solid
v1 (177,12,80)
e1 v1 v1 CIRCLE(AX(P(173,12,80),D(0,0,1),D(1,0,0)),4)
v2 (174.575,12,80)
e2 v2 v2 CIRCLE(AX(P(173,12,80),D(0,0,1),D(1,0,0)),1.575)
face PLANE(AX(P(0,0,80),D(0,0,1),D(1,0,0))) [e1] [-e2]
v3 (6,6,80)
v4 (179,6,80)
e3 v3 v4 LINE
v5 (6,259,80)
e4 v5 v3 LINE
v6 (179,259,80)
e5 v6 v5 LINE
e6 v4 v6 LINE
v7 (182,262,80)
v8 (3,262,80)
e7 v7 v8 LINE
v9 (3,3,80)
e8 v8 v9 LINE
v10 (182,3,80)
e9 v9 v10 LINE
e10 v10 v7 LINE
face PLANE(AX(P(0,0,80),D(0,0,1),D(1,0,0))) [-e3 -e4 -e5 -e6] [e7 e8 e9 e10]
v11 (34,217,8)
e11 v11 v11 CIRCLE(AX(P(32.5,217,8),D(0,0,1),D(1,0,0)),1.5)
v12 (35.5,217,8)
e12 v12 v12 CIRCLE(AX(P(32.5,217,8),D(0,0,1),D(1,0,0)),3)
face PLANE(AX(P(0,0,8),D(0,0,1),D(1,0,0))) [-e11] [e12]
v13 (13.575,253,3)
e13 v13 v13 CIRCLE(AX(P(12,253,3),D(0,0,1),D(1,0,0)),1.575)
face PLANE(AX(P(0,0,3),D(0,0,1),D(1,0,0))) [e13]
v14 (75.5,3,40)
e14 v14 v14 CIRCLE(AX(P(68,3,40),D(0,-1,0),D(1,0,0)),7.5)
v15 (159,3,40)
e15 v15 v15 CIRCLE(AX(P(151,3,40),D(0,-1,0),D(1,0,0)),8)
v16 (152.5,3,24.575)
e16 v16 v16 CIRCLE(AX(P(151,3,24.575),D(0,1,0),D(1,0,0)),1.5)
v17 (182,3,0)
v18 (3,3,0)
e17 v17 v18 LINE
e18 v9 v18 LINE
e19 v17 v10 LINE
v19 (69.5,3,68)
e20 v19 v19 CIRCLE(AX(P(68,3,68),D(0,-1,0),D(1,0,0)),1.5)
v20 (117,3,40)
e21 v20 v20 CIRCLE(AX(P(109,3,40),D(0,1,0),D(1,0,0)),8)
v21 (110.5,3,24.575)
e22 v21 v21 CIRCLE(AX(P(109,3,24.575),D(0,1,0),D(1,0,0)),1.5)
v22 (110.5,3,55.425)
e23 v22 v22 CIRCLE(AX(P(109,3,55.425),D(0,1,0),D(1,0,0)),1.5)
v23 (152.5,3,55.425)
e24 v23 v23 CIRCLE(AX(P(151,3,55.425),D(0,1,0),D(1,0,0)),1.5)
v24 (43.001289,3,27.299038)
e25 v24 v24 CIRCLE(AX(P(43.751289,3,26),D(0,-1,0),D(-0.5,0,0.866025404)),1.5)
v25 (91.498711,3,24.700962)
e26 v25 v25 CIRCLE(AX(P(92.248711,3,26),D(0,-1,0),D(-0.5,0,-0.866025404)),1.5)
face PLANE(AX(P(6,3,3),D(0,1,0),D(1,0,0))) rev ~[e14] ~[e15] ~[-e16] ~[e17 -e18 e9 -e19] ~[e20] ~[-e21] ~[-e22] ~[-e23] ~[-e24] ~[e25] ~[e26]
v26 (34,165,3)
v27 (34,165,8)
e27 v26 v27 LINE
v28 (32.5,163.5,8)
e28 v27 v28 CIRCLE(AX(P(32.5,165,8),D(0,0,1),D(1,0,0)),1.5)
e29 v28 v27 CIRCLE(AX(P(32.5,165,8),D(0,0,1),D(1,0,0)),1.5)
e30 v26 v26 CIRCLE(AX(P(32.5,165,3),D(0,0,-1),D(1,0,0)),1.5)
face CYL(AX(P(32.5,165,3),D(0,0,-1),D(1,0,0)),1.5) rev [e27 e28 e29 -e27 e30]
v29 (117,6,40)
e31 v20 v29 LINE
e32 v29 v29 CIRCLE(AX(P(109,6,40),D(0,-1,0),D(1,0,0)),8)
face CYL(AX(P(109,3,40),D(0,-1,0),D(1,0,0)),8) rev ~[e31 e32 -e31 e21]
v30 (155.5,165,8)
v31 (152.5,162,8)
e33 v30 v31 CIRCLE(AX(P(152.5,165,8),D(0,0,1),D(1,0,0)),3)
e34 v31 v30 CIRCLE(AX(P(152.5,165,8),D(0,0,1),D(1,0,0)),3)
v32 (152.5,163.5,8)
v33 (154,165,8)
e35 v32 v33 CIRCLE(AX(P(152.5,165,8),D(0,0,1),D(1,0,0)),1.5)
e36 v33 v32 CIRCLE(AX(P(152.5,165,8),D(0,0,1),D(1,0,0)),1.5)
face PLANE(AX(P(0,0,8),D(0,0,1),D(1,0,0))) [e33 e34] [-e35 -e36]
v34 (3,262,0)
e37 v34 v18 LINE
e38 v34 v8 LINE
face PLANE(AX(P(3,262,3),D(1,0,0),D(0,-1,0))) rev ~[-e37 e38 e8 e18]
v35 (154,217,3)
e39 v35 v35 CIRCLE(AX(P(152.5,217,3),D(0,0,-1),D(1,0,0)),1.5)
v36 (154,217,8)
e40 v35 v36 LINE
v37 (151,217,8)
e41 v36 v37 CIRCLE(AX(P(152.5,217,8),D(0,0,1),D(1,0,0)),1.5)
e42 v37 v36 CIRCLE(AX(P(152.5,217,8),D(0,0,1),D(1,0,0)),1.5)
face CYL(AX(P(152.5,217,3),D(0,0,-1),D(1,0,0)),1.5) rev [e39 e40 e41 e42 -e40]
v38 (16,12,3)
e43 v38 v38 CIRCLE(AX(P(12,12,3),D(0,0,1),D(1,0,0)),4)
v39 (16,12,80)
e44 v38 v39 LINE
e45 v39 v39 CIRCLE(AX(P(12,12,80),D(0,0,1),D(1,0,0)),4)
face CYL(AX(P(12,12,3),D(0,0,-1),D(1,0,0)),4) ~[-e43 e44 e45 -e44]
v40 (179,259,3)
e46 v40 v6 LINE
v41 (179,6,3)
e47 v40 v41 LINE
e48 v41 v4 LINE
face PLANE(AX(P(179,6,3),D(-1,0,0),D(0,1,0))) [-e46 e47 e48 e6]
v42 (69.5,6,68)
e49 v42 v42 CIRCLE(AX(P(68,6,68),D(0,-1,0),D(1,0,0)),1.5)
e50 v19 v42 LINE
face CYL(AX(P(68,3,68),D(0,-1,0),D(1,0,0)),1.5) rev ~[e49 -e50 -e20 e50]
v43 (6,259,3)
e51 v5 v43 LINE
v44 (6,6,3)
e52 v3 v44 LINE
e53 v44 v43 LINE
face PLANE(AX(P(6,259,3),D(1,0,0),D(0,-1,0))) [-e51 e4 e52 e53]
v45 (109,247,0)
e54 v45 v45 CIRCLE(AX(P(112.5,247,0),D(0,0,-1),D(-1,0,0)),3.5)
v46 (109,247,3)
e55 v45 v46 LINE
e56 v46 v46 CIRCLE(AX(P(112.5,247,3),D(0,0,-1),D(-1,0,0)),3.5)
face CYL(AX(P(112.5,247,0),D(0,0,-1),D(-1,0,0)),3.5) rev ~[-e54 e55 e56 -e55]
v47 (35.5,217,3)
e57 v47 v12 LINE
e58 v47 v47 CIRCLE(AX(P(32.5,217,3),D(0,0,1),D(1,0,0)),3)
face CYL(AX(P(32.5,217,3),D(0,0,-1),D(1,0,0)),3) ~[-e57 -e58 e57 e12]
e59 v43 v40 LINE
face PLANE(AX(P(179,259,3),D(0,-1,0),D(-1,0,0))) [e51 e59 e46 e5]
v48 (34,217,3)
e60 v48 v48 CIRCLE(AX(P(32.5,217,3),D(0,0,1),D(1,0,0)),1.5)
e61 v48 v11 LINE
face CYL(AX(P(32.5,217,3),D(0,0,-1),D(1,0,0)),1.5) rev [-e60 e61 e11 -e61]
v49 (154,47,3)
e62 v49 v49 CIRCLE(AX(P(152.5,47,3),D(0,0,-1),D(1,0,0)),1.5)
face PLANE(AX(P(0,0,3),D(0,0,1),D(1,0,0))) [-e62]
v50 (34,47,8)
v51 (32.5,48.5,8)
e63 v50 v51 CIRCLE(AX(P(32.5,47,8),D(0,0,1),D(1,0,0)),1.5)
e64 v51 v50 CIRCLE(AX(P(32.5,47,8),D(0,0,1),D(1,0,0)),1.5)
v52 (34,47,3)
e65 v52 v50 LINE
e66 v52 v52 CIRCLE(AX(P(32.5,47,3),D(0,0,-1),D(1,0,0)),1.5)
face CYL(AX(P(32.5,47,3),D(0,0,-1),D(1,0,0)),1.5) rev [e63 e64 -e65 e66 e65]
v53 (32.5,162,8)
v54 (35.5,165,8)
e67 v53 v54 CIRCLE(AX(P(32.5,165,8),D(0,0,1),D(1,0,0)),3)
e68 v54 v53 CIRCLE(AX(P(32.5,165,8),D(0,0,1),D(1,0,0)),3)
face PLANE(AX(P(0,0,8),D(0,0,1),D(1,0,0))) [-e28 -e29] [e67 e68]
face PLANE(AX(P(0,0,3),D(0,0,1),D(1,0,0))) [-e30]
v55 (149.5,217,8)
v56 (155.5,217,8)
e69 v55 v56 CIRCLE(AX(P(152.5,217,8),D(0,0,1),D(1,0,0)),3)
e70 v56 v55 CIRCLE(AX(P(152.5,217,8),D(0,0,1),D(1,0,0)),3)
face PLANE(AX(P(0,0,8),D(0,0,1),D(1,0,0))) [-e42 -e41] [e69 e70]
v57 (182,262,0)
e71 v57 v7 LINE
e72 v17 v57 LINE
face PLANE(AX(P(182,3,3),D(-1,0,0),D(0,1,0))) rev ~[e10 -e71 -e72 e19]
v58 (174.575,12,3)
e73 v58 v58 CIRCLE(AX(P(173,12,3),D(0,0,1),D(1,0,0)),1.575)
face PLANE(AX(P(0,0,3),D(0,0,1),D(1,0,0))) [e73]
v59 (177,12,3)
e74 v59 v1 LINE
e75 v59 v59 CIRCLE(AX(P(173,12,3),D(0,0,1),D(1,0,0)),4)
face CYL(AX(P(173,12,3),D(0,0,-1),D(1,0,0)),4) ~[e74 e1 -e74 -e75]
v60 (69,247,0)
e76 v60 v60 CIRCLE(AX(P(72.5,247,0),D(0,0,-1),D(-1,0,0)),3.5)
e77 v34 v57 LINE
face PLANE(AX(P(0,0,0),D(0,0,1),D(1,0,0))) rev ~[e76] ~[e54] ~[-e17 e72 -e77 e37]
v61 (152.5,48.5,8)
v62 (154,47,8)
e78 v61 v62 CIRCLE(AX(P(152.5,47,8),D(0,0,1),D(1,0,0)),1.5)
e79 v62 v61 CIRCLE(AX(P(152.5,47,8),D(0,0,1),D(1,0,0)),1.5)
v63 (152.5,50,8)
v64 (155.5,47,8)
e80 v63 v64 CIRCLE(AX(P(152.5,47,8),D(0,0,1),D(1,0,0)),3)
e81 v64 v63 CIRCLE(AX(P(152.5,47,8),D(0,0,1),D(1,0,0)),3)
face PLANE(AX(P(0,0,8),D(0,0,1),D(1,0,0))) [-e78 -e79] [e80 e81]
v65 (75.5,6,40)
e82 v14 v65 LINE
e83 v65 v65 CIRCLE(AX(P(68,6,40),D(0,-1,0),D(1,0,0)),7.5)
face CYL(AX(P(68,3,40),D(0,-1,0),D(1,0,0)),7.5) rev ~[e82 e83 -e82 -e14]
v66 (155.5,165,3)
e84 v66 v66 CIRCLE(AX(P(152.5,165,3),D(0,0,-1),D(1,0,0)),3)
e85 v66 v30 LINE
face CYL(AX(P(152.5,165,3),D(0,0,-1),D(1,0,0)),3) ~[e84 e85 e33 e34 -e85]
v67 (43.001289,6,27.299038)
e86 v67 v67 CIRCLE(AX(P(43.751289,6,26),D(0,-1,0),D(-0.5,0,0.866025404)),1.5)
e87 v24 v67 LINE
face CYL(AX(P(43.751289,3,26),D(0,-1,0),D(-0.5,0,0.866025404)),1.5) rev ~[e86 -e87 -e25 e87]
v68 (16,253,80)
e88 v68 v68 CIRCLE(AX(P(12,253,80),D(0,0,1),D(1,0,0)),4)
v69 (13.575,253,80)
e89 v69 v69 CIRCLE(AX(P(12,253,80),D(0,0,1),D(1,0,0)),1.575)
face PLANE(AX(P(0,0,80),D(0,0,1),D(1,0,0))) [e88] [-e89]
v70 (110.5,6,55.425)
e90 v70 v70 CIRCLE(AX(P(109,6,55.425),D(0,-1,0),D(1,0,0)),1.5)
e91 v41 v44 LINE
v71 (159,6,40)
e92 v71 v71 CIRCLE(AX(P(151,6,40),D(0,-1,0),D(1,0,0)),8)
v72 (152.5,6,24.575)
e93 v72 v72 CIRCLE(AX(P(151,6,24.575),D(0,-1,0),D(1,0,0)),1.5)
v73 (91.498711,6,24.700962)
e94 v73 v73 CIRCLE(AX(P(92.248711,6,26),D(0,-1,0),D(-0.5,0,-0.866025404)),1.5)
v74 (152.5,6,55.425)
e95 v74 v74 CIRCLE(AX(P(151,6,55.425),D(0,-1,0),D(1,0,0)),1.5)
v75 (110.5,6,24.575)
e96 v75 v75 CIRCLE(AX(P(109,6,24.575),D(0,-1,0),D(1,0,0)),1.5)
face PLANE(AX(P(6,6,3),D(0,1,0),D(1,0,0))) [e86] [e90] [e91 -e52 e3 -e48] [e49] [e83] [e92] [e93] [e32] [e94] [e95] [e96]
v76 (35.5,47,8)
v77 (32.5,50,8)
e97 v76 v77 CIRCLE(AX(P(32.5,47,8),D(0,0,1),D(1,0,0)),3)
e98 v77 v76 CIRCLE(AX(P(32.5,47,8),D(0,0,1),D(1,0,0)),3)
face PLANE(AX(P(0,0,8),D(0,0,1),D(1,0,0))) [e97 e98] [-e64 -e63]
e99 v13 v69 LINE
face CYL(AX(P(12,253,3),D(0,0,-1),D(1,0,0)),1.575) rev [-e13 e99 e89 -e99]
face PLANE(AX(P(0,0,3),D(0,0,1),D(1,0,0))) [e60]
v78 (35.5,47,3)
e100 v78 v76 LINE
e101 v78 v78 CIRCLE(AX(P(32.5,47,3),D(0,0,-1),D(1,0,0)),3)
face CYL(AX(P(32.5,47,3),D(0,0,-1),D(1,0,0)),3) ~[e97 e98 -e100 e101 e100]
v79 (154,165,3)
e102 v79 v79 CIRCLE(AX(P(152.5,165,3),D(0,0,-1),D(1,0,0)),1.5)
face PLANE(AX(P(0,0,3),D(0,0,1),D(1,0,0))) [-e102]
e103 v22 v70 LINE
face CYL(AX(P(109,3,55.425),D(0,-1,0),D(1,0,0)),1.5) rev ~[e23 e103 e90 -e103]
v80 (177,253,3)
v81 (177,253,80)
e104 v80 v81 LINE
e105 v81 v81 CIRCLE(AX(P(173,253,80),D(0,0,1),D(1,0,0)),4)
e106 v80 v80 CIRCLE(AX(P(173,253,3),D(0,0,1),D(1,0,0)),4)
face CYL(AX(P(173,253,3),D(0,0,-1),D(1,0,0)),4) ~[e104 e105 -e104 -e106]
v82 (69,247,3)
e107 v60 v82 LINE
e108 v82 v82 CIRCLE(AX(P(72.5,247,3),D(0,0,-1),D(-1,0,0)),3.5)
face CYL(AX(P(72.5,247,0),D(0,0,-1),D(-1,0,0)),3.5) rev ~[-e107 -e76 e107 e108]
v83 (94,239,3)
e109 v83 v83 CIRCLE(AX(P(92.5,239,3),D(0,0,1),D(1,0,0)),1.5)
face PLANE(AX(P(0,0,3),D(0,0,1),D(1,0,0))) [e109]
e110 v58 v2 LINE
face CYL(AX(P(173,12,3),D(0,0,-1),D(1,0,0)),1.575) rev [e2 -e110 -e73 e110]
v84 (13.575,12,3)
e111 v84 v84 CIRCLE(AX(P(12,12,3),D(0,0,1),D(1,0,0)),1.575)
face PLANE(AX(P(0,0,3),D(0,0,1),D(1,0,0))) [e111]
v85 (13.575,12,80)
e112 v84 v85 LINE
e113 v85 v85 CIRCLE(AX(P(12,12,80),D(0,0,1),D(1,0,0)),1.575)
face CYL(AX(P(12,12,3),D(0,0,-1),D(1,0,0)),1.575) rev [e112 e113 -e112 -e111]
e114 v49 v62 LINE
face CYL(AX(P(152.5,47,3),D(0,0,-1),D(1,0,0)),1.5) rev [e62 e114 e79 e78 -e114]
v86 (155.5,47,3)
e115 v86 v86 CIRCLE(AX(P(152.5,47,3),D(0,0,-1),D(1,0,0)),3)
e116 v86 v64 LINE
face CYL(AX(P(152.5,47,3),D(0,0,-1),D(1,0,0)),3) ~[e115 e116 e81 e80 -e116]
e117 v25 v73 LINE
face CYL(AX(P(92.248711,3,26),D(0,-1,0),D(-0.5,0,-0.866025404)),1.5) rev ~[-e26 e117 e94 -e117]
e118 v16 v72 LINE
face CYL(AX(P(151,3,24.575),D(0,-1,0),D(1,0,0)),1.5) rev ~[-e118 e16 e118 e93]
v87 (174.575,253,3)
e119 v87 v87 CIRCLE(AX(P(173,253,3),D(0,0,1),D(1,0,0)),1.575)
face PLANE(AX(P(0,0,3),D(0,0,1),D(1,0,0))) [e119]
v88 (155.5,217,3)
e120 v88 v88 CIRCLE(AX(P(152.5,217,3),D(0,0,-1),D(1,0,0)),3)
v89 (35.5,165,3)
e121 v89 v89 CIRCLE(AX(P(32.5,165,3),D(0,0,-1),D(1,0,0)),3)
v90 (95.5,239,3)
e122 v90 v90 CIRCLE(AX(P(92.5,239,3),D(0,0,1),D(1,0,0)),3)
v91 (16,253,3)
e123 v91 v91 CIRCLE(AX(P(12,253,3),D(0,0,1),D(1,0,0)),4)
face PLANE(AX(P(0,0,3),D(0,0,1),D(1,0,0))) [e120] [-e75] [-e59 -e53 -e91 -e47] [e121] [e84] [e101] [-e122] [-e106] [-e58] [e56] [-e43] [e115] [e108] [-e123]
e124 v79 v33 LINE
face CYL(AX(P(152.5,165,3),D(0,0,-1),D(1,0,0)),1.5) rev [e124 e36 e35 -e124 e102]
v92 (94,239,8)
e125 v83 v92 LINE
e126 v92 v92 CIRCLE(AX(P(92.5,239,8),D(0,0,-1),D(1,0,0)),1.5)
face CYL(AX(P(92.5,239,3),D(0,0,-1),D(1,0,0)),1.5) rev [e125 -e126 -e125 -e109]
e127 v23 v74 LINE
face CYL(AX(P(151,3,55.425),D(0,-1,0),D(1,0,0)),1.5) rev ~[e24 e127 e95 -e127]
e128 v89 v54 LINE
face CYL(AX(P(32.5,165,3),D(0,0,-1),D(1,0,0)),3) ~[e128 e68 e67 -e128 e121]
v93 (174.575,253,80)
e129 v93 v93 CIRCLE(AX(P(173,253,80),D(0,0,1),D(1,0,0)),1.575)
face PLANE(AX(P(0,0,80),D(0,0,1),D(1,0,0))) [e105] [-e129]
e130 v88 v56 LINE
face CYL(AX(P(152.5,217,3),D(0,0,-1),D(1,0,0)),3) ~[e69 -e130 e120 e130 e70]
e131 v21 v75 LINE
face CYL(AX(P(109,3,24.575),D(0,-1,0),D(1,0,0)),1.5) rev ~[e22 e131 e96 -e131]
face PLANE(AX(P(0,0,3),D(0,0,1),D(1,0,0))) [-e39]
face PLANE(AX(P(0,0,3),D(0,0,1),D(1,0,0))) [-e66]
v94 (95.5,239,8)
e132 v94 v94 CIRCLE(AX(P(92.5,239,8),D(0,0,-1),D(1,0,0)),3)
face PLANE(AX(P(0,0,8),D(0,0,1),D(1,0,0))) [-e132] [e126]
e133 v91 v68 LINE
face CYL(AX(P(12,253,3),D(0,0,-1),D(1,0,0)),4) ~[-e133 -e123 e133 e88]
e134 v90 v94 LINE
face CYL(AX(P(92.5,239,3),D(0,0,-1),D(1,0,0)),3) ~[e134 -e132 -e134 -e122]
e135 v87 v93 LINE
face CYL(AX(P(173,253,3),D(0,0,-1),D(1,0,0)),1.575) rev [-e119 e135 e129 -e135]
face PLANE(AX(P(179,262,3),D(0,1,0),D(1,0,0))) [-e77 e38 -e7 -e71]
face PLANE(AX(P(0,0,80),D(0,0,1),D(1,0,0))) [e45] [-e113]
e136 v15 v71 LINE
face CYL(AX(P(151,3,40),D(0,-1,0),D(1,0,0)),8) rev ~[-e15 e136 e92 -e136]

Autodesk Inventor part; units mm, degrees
ref_plane "YZ Plane" through (0, 0, 0) normal (1, 0, 0) x (0, 1, 0)
ref_plane "XZ Plane" through (0, 0, 0) normal (0, 1, 0) x (-1, 0, 0)
ref_plane "XY Plane" through (0, 0, 0) normal (0, 0, 1) x (1, 0, 0)
sketch "Esboço1" plane through (0, 0, 0) normal (0, 0, 1) x (1, 0, 0)
  line L0 (0, 0) -> (185, 0)
  line L1 (185, 0) -> (185, 265)
  line L2 (185, 265) -> (0, 265)
  line L3 (0, 265) -> (0, 0)
  line L4 (0, 0) -> (12, 0)
  line L5 (12, 0) -> (12, 12)
  line L6 (185, 0) -> (173, 0)
  line L7 (173, 0) -> (173, 12)
  line L8 (0, 265) -> (0, 253)
  line L9 (0, 253) -> (12, 253)
  line L10 (185, 265) -> (185, 253)
  line L11 (185, 253) -> (173, 253)
  circle A0 centre (173, 253) radius 4
  circle A1 centre (12, 253) radius 4
  circle A2 centre (12, 12) radius 4
  circle A3 centre (173, 12) radius 4
  line L12 (180, 5) -> (180, 260)
  line L13 (180, 260) -> (5, 260)
  line L14 (5, 260) -> (180, 260)
  line L15 (180, 260) -> (180, 5)
  line L16 (180, 5) -> (5, 5)
  line L17 (5, 5) -> (5, 260)
  dimension "d2" = 185
  dimension "d3" = 265
  dimension "d4" = 12
  dimension "d5" = 12
  dimension "d6" = 12
  dimension "d7" = 12
  dimension "d8" = 12
  dimension "d9" = 12
  dimension "d10" = 12
  dimension "d11" = 12
  dimension "d12" = 8
  dimension "d13" = 8
  dimension "d14" = 8
  dimension "d15" = 8
  dimension "d18" = 255
  dimension "d19" = 175
sketch "Esboço2" plane through (0, 0, 0) normal (0, 0, 1) x (1, 0, 0)
  line L0 (185, 265) -> (185, 253)
  line L1 (180, 5) -> (180, 260)
  line L2 (180, 260) -> (5, 260)
  line L3 (5, 260) -> (180, 260)
  line L4 (180, 260) -> (180, 5)
  line L5 (180, 5) -> (5, 5)
  line L6 (5, 5) -> (5, 260)
  point P0 (0, 0)
  dimension "d34" = 255
  dimension "d35" = 175
extrude "Extrusão1" add sketch "Esboço2" along normal blind 3
sketch "Esboço3" plane through (0, 0, 3) normal (0, 0, 1) x (1, 0, 0)
  circle A0 centre (173, 253) radius 4
  circle A1 centre (12, 253) radius 4
  circle A2 centre (12, 12) radius 4
  circle A3 centre (173, 12) radius 4
  line L0 (180, 5) -> (180, 260)
  line L1 (180, 260) -> (5, 260)
  line L2 (5, 260) -> (180, 260)
  line L3 (180, 260) -> (180, 5)
  line L4 (180, 5) -> (5, 5)
  line L5 (5, 5) -> (5, 260)
  circle A4 centre (12, 12) radius 1.575
  circle A5 centre (12, 253) radius 1.575
  circle A6 centre (173, 253) radius 1.575
  circle A7 centre (173, 12) radius 1.575
  line L6 (173, 12) -> (173, 11)
  dimension "d48" = 8
  dimension "d49" = 8
  dimension "d50" = 8
  dimension "d51" = 8
  dimension "d52" = 255
  dimension "d53" = 175
  dimension "d54" = 3.15
  dimension "d55" = 3.15
  dimension "d56" = 3.15
  dimension "d57" = 3.15
  dimension "d219" = 1
extrude "Extrusão2" add sketch "Esboço3" along normal blind 77 contours A0 | A1 | A2 | A3
sketch "Esboço4" plane through (0, 0, 3) normal (0, 0, 1) x (1, 0, 0)
  line L0 (0, 0) -> (185, 0)
  line L1 (185, 0) -> (185, 265)
  line L2 (185, 265) -> (0, 265)
  line L3 (0, 265) -> (0, 0)
  line L4 (0, 0) -> (12, 0)
  line L5 (185, 0) -> (173, 0)
  line L6 (0, 265) -> (0, 253)
  line L7 (185, 265) -> (185, 253)
  line L8 (0, 265) -> (0, 220)
  line L9 (0, 220) -> (32.5, 220)
  line L10 (0, 220) -> (0, 168)
  line L11 (0, 168) -> (32.5, 168)
  line L12 (92.5, 265) -> (92.5, 240)
  line L13 (0, 0) -> (0, 45)
  line L14 (0, 45) -> (32.5, 45)
  line L15 (185, 0) -> (185, 45)
  line L16 (185, 45) -> (152.5, 45)
  circle A0 centre (92.5, 240) radius 3
  circle A1 centre (92.5, 240) radius 1.5
  circle A2 centre (32.5, 220) radius 1.5
  circle A3 centre (32.5, 220) radius 3
  circle A4 centre (32.5, 168) radius 1.5
  circle A5 centre (32.5, 168) radius 3
  circle A6 centre (32.5, 45) radius 1.5
  circle A7 centre (32.5, 45) radius 3
  circle A8 centre (152.5, 45) radius 1.5
  circle A9 centre (152.5, 45) radius 3
  line L17 (185, 265) -> (185, 220)
  line L18 (185, 220) -> (152.5, 220)
  line L19 (185, 220) -> (185, 168)
  line L20 (185, 168) -> (152.5, 168)
  circle A10 centre (152.5, 168) radius 1.5
  circle A11 centre (152.5, 168) radius 3
  circle A12 centre (152.5, 220) radius 1.5
  circle A13 centre (152.5, 220) radius 3
  point P0 (180, 5)
  point P1 (5, 260)
  dimension "d60" = 185
  dimension "d61" = 265
  dimension "d64" = 12
  dimension "d66" = 12
  dimension "d76" = 45
  dimension "d77" = 32.5
  dimension "d78" = 52
  dimension "d79" = 32.5
  dimension "d84" = 25
  dimension "d85" = 45
  dimension "d86" = 32.5
  dimension "d88" = 32.5
  dimension "d89" = 6
  dimension "d90" = 3
  dimension "d91" = 3
  dimension "d92" = 6
  dimension "d93" = 3
  dimension "d94" = 6
  dimension "d99" = 3
  dimension "d100" = 6
  dimension "d101" = 3
  dimension "d102" = 6
  dimension "d149" = 32.5
  dimension "d150" = 52
  dimension "d151" = 32.5
  dimension "d152" = 3
  dimension "d153" = 6
  dimension "d154" = 3
  dimension "d155" = 6
sketch "Esboço5" plane through (0, 0, 3) normal (0, 0, 1) x (1, 0, 0)
  circle A0 centre (92.5, 240) radius 3
  circle A1 centre (92.5, 240) radius 1.5
  circle A2 centre (32.5, 220) radius 1.5
  circle A3 centre (32.5, 220) radius 3
  circle A4 centre (32.5, 168) radius 1.5
  circle A5 centre (32.5, 168) radius 3
  circle A6 centre (147.5, 215) radius 1.5
  circle A7 centre (147.5, 215) radius 3
  circle A8 centre (147.5, 163) radius 1.5
  circle A9 centre (147.5, 163) radius 3
  circle A10 centre (32.5, 45) radius 1.5
  circle A11 centre (32.5, 45) radius 3
  circle A12 centre (152.5, 45) radius 1.5
  circle A13 centre (152.5, 45) radius 3
  dimension "d132" = 6
  dimension "d133" = 3
  dimension "d134" = 3
  dimension "d135" = 6
  dimension "d136" = 3
  dimension "d137" = 6
  dimension "d138" = 3
  dimension "d139" = 6
  dimension "d142" = 3
  dimension "d143" = 6
  dimension "d144" = 3
  dimension "d145" = 6
  dimension "d146" = 6
  dimension "d147" = 3
sketch "Esboço7" plane through (0, 0, 3) normal (0, 0, 1) x (1, 0, 0)
  line L0 (0, 0) -> (185, 0)
  line L1 (185, 0) -> (185, 265)
  line L2 (185, 265) -> (0, 265)
  line L3 (0, 265) -> (0, 0)
  line L4 (0, 0) -> (12, 0)
  line L5 (12, 0) -> (12, 12)
  line L6 (185, 0) -> (173, 0)
  line L7 (173, 0) -> (173, 12)
  line L8 (0, 265) -> (0, 253)
  line L9 (0, 253) -> (12, 253)
  line L10 (185, 265) -> (185, 253)
  line L11 (185, 253) -> (173, 253)
  circle A0 centre (173, 253) radius 4
  circle A1 centre (12, 253) radius 4
  circle A2 centre (12, 12) radius 4
  circle A3 centre (173, 12) radius 4
  line L12 (180, 5) -> (180, 260)
  line L13 (180, 260) -> (5, 260)
  line L14 (5, 260) -> (180, 260)
  line L15 (180, 260) -> (180, 5)
  line L16 (180, 5) -> (5, 5)
  line L17 (5, 5) -> (5, 260)
  line L18 (5, 5) -> (180, 5) projected
  line L19 (5, 5) -> (0, 5)
  dimension "d187" = 185
  dimension "d188" = 265
  dimension "d189" = 12
  dimension "d190" = 12
  dimension "d191" = 12
  dimension "d192" = 12
  dimension "d193" = 12
  dimension "d194" = 12
  dimension "d195" = 12
  dimension "d196" = 12
  dimension "d197" = 8
  dimension "d198" = 8
  dimension "d199" = 8
  dimension "d200" = 8
  dimension "d201" = 255
  dimension "d202" = 175
sketch "Esboço8" plane through (0, 0, 3) normal (0, 0, 1) x (1, 0, 0)
  line L0 (5, 5) -> (180, 5) projected
  line L1 (92.5, 5) -> (179, 5)
  line L2 (5, 260) -> (5, 5) projected
  line L3 (180, 260) -> (5, 260) projected
  line L4 (179, 6) -> (179, 259)
  line L5 (179, 259) -> (6, 259)
  line L6 (6, 259) -> (6, 6)
  line L7 (6, 6) -> (179, 6)
  line L8 (179, 6) -> (179, 259)
  line L9 (6, 6) -> (6, 3)
  line L10 (6, 3) -> (3, 3)
  line L11 (179, 259) -> (179, 262)
  line L12 (179, 262) -> (182, 262)
  line L13 (182, 262) -> (3, 262)
  line L14 (3, 262) -> (3, 3)
  line L15 (3, 3) -> (182, 3)
  line L16 (182, 3) -> (182, 262)
  point P0 (0, 0)
  dimension "d207" = 86.5
  dimension "d211" = 3
  dimension "d212" = 3
  dimension "d213" = 3
  dimension "d214" = 3
extrude "Extrusão4" add sketch "Esboço8" along normal blind 77 and the other way blind 3 contours L2 L3 L11 L5 L6 L9 L0 | L0 L9 L10 L14 L13 L11 L3 L2 | L9 L7 L4 L11 L12 L16 L15
sketch "Esboço9" plane through (0, 0, 3) normal (0, 0, 1) x (1, 0, 0)
  point P0 (0, 0)
sketch "Esboço6" plane through (0, 0, 3) normal (0, 0, 1) x (1, 0, 0)
  line L0 (92.5, 265) -> (92.5, 240)
  circle A0 centre (92.5, 240) radius 3
  circle A1 centre (92.5, 240) radius 1.5
  circle A2 centre (32.5, 220) radius 1.5
  circle A3 centre (32.5, 220) radius 3
  circle A4 centre (152.5, 220) radius 1.5
  circle A5 centre (152.5, 220) radius 3
  line L1 (180, 5) -> (180, 8)
  line L2 (180, 5) -> (180, 260) projected
  line L3 (180, 8) -> (180, 16)
  circle A6 centre (173, 12) radius 1.575 projected
  line L4 (6, 6) -> (179, 6) projected
  line L5 (179, 6) -> (179, 47)
  line L6 (179, 259) -> (179, 6) projected
  circle A7 centre (152.5, 47) radius 1.5
  circle A8 centre (152.5, 47) radius 3
  line L7 (6, 6) -> (6, 47)
  line L8 (6, 6) -> (6, 259) projected
  circle A9 centre (32.5, 47) radius 1.5
  circle A10 centre (32.5, 47) radius 3
  line L9 (32.5, 47) -> (32.5, 165)
  circle A11 centre (32.5, 165) radius 1.5
  circle A12 centre (32.5, 165) radius 3
  line L10 (152.5, 47) -> (152.5, 165)
  circle A13 centre (152.5, 165) radius 1.5
  circle A14 centre (152.5, 165) radius 3
  dimension "d164" = 25
  dimension "d168" = 6
  dimension "d169" = 3
  dimension "d170" = 3
  dimension "d171" = 6
  dimension "d183" = 3
  dimension "d184" = 6
  dimension "d203" = 3
  dimension "d204" = 8
  dimension "d220" = 41
  dimension "d222" = 3
  dimension "d223" = 6
  dimension "d224" = 41
  dimension "d227" = 3
  dimension "d228" = 6
  dimension "d240" = 118
  dimension "d241" = 3
  dimension "d242" = 6
  dimension "d243" = 118
  dimension "d244" = 3
  dimension "d245" = 6
extrude "Extrusão6" add sketch "Esboço6" along normal blind 5 contours A8 | A14 | A10 | A12
sketch "posição dos furos" plane through (0, 0, 3) normal (0, 0, 1) x (1, 0, 0)
  line L0 (179, 6) -> (179, 53.5)
  line L1 (179, 6) -> (179, 259)
  line L2 (179, 53.5) -> (179, 47)
  line L3 (179, 47) -> (142.8647, 47)
  circle A0 centre (152.5, 47) radius 1.5
  line L4 (152.5, 47) -> (152.5, 6)
  circle A1 centre (152.5, 47) radius 3
  line L5 (152.5, 50) -> (152.5, 53)
  line L6 (152.5, 53) -> (179, 53)
  circle A2 centre (152.5, 47) radius 6
  line L7 (152.5, 47) -> (164, 47)
  line L8 (152.5, 41) -> (164, 41)
  line L9 (164, 7) -> (167, 7)
  line L10 (164, 7) -> (164, 41)
  line L11 (167, 7) -> (167, 17.182)
  line L12 (167, 17.182) -> (178, 17.182)
  line L13 (178, 17.182) -> (178, 53)
  circle A3 centre (32.5, 47) radius 1.5
  line L14 (32.5, 47) -> (32.5, 165)
  circle A4 centre (173, 12) radius 1.575 projected
  circle A5 centre (173, 12) radius 1.575
  circle A6 centre (173, 12) radius 3.9962
  point P0 (0, 0)
  point P1 (0, 0)
  dimension "d248" = 47.5
  dimension "d249" = 6.5
  dimension "d250" = 3
  dimension "d251" = 11.5
  dimension "d252" = 10.182
  dimension "d253" = 11
  dimension "d254" = 118
sketch "furos 5mm caixa" plane through (0, 0, 3) normal (0, 0, 1) x (1, 0, 0)
  line L0 (92.5, 265) -> (92.5, 240)
  circle A0 centre (92.5, 240) radius 3
  circle A1 centre (92.5, 240) radius 1.5
  circle A2 centre (32.5, 220) radius 1.5
  circle A3 centre (32.5, 220) radius 3
  circle A4 centre (152.5, 220) radius 1.5
  circle A5 centre (152.5, 220) radius 3
  line L1 (180, 5) -> (180, 8)
  line L2 (180, 5) -> (180, 260)
  line L3 (180, 8) -> (180, 16)
  circle A6 centre (173, 12) radius 1.575
  line L4 (6, 6) -> (179, 6)
  line L5 (179, 6) -> (179, 47)
  line L6 (179, 259) -> (179, 6)
  circle A7 centre (152.5, 47) radius 1.5
  circle A8 centre (152.5, 47) radius 3
  line L7 (6, 6) -> (6, 47)
  line L8 (6, 6) -> (6, 259)
  circle A9 centre (32.5, 47) radius 1.5
  circle A10 centre (32.5, 47) radius 3
  line L9 (32.5, 47) -> (32.5, 165)
  circle A11 centre (32.5, 165) radius 1.5
  circle A12 centre (32.5, 165) radius 3
  line L10 (152.5, 47) -> (152.5, 165)
  circle A13 centre (152.5, 165) radius 1.5
  circle A14 centre (152.5, 165) radius 3
  point P0 (0, 0)
  dimension "d255" = 25
  dimension "d256" = 6
  dimension "d257" = 3
  dimension "d258" = 3
  dimension "d259" = 6
  dimension "d260" = 3
  dimension "d261" = 6
  dimension "d262" = 3
  dimension "d263" = 8
  dimension "d264" = 41
  dimension "d265" = 3
  dimension "d266" = 6
  dimension "d267" = 41
  dimension "d268" = 3
  dimension "d269" = 6
  dimension "d270" = 118
  dimension "d271" = 3
  dimension "d272" = 6
  dimension "d273" = 118
  dimension "d274" = 3
  dimension "d275" = 6
sketch "Esboço13" plane through (3, 3, 80) normal (0, -1, 0) x (1, 0, 0)
  circle A0 centre (65, -40) radius 7.5
  point P0 (-3, -80)
  point P1 (0, -80)
  dimension "d279" = 15
extrude "Extrusão7" cut sketch "Esboço13" against normal blind 10
sketch "Esboço14" plane through (6, 6, 3) normal (0, 1, 0) x (1, 0, 0)
  point P0 (-6, 3)
sketch "Esboço15" plane through (3, 3, 80) normal (0, -1, 0) x (1, 0, 0)
  circle A0 centre (65, -12) radius 1.5
  point P0 (-3, -80)
  dimension "d283" = 3
extrude "Extrusão8" cut sketch "Esboço15" against normal blind 10
pattern_circular "Padrão circular1" count 3 over 360 about axis through (68, 3, 40) along (0, 1, 0) of "Extrusão8"
sketch "Esboço16" plane through (3, 3, 80) normal (0, -1, 0) x (1, 0, 0)
  point P0 (-3, -80)
sketch "Esboço17" plane through (3, 3, 80) normal (0, -1, 0) x (1, 0, 0)
  line L0 (179, -80) -> (164, -80)
  line L1 (179, -80) -> (98, -80)
  line L2 (0, -80) -> (179, -80) projected
  line L3 (3, 0) -> (176, 0) projected
  line L4 (98, 0) -> (98, -80)
  line L5 (164, 0) -> (164, -80)
  circle A0 centre (106, -40) radius 8
  circle A1 centre (148, -40) radius 8
  point P0 (-3, -80)
  dimension "d289" = 15
  dimension "d290" = 81
  dimension "d306" = 16
extrude "Extrusão11" cut sketch "Esboço17" against normal blind 10 contours A0 | A1
sketch "Esboço19" plane through (3, 3, 80) normal (0, -1, 0) x (1, 0, 0)
  circle A0 centre (148, -40) radius 8 projected
  line L0 (148, -40) -> (148, -24.575)
  line L1 (148, -40) -> (148, -55.425)
  circle A1 centre (148, -55.425) radius 1.5
  circle A2 centre (148, -24.575) radius 1.5
  circle A3 centre (106, -40) radius 8 projected
  line L2 (106, -40) -> (106, -24.575)
  line L3 (106, -40) -> (106, -55.425)
  circle A4 centre (106, -55.425) radius 1.5
  circle A5 centre (106, -24.575) radius 1.5
  point P0 (-3, -80)
  dimension "d309" = 15.425
  dimension "d310" = 15.425
  dimension "d311" = 3
  dimension "d312" = 3
  dimension "d313" = 15.425
  dimension "d314" = 15.425
  dimension "d315" = 3
  dimension "d316" = 3
extrude "Extrusão12" cut sketch "Esboço19" against normal blind 10 contours A1 | A2 | A4 | A5
sketch "Esboço20" plane through (0, 0, 0) normal (0, 0, -1) x (-1, 0, 0)
  line L0 (-182, 3) -> (-3, 3) projected
  circle A0 centre (-112.5, 247) radius 3.5
  circle A1 centre (-72.5, 247) radius 3.5
  point P0 (0, 0)
  dimension "d339" = 7
  dimension "d340" = 7
extrude "Extrusão15" cut sketch "Esboço20" against normal blind 10
sketch "Esboço21" plane through (0, 0, 3) normal (0, 0, 1) x (1, 0, 0)
  line L0 (6, 259) -> (179, 259) projected
  line L1 (92.5, 259) -> (92.5, 236)
  line L2 (92.5, 236) -> (92.5, 242)
  circle A0 centre (92.5, 239) radius 3
  circle A1 centre (92.5, 239) radius 1.5
  line L3 (92.5, 220) -> (92.5, 215)
  line L4 (92.5, 239) -> (92.5, 217)
  line L5 (92.5, 217) -> (152.5, 217)
  circle A2 centre (152.5, 217) radius 1.5
  circle A3 centre (152.5, 217) radius 3
  circle A4 centre (32.5, 217) radius 1.5
  circle A5 centre (32.5, 217) radius 3
  point P0 (0, 0)
  dimension "d349" = 23
  dimension "d350" = 6
  dimension "d351" = 3
  dimension "d352" = 19
  dimension "d353" = 5
  dimension "d355" = 22
  dimension "d356" = 60
  dimension "d357" = 3
  dimension "d358" = 6
extrude "Extrusão16" add sketch "Esboço21" along normal blind 5 contours A0 L1 A1 | A3 | L1 A1 A0 | A5
sketch "Esboço22" plane through (0, 0, 80) normal (0, 0, 1) x (1, 0, 0)
  line L0 (3, 3) -> (182, 3) projected
  line L1 (3, 262) -> (182, 262)
  line L2 (182, 262) -> (182, 3)
  line L3 (182, 3) -> (3, 3)
  line L4 (3, 3) -> (3, 262)
  line L5 (6, 6) -> (179, 6) projected
  line L6 (179, 259) -> (6, 259) projected
  line L7 (179, 6) -> (6, 6)
  line L8 (6, 6) -> (6, 259)
  line L9 (6, 259) -> (179, 259)
  line L10 (179, 259) -> (179, 6)
  point P0 (0, 0)
properties part number "base da caixa" material "Plástico PC/ABS"
